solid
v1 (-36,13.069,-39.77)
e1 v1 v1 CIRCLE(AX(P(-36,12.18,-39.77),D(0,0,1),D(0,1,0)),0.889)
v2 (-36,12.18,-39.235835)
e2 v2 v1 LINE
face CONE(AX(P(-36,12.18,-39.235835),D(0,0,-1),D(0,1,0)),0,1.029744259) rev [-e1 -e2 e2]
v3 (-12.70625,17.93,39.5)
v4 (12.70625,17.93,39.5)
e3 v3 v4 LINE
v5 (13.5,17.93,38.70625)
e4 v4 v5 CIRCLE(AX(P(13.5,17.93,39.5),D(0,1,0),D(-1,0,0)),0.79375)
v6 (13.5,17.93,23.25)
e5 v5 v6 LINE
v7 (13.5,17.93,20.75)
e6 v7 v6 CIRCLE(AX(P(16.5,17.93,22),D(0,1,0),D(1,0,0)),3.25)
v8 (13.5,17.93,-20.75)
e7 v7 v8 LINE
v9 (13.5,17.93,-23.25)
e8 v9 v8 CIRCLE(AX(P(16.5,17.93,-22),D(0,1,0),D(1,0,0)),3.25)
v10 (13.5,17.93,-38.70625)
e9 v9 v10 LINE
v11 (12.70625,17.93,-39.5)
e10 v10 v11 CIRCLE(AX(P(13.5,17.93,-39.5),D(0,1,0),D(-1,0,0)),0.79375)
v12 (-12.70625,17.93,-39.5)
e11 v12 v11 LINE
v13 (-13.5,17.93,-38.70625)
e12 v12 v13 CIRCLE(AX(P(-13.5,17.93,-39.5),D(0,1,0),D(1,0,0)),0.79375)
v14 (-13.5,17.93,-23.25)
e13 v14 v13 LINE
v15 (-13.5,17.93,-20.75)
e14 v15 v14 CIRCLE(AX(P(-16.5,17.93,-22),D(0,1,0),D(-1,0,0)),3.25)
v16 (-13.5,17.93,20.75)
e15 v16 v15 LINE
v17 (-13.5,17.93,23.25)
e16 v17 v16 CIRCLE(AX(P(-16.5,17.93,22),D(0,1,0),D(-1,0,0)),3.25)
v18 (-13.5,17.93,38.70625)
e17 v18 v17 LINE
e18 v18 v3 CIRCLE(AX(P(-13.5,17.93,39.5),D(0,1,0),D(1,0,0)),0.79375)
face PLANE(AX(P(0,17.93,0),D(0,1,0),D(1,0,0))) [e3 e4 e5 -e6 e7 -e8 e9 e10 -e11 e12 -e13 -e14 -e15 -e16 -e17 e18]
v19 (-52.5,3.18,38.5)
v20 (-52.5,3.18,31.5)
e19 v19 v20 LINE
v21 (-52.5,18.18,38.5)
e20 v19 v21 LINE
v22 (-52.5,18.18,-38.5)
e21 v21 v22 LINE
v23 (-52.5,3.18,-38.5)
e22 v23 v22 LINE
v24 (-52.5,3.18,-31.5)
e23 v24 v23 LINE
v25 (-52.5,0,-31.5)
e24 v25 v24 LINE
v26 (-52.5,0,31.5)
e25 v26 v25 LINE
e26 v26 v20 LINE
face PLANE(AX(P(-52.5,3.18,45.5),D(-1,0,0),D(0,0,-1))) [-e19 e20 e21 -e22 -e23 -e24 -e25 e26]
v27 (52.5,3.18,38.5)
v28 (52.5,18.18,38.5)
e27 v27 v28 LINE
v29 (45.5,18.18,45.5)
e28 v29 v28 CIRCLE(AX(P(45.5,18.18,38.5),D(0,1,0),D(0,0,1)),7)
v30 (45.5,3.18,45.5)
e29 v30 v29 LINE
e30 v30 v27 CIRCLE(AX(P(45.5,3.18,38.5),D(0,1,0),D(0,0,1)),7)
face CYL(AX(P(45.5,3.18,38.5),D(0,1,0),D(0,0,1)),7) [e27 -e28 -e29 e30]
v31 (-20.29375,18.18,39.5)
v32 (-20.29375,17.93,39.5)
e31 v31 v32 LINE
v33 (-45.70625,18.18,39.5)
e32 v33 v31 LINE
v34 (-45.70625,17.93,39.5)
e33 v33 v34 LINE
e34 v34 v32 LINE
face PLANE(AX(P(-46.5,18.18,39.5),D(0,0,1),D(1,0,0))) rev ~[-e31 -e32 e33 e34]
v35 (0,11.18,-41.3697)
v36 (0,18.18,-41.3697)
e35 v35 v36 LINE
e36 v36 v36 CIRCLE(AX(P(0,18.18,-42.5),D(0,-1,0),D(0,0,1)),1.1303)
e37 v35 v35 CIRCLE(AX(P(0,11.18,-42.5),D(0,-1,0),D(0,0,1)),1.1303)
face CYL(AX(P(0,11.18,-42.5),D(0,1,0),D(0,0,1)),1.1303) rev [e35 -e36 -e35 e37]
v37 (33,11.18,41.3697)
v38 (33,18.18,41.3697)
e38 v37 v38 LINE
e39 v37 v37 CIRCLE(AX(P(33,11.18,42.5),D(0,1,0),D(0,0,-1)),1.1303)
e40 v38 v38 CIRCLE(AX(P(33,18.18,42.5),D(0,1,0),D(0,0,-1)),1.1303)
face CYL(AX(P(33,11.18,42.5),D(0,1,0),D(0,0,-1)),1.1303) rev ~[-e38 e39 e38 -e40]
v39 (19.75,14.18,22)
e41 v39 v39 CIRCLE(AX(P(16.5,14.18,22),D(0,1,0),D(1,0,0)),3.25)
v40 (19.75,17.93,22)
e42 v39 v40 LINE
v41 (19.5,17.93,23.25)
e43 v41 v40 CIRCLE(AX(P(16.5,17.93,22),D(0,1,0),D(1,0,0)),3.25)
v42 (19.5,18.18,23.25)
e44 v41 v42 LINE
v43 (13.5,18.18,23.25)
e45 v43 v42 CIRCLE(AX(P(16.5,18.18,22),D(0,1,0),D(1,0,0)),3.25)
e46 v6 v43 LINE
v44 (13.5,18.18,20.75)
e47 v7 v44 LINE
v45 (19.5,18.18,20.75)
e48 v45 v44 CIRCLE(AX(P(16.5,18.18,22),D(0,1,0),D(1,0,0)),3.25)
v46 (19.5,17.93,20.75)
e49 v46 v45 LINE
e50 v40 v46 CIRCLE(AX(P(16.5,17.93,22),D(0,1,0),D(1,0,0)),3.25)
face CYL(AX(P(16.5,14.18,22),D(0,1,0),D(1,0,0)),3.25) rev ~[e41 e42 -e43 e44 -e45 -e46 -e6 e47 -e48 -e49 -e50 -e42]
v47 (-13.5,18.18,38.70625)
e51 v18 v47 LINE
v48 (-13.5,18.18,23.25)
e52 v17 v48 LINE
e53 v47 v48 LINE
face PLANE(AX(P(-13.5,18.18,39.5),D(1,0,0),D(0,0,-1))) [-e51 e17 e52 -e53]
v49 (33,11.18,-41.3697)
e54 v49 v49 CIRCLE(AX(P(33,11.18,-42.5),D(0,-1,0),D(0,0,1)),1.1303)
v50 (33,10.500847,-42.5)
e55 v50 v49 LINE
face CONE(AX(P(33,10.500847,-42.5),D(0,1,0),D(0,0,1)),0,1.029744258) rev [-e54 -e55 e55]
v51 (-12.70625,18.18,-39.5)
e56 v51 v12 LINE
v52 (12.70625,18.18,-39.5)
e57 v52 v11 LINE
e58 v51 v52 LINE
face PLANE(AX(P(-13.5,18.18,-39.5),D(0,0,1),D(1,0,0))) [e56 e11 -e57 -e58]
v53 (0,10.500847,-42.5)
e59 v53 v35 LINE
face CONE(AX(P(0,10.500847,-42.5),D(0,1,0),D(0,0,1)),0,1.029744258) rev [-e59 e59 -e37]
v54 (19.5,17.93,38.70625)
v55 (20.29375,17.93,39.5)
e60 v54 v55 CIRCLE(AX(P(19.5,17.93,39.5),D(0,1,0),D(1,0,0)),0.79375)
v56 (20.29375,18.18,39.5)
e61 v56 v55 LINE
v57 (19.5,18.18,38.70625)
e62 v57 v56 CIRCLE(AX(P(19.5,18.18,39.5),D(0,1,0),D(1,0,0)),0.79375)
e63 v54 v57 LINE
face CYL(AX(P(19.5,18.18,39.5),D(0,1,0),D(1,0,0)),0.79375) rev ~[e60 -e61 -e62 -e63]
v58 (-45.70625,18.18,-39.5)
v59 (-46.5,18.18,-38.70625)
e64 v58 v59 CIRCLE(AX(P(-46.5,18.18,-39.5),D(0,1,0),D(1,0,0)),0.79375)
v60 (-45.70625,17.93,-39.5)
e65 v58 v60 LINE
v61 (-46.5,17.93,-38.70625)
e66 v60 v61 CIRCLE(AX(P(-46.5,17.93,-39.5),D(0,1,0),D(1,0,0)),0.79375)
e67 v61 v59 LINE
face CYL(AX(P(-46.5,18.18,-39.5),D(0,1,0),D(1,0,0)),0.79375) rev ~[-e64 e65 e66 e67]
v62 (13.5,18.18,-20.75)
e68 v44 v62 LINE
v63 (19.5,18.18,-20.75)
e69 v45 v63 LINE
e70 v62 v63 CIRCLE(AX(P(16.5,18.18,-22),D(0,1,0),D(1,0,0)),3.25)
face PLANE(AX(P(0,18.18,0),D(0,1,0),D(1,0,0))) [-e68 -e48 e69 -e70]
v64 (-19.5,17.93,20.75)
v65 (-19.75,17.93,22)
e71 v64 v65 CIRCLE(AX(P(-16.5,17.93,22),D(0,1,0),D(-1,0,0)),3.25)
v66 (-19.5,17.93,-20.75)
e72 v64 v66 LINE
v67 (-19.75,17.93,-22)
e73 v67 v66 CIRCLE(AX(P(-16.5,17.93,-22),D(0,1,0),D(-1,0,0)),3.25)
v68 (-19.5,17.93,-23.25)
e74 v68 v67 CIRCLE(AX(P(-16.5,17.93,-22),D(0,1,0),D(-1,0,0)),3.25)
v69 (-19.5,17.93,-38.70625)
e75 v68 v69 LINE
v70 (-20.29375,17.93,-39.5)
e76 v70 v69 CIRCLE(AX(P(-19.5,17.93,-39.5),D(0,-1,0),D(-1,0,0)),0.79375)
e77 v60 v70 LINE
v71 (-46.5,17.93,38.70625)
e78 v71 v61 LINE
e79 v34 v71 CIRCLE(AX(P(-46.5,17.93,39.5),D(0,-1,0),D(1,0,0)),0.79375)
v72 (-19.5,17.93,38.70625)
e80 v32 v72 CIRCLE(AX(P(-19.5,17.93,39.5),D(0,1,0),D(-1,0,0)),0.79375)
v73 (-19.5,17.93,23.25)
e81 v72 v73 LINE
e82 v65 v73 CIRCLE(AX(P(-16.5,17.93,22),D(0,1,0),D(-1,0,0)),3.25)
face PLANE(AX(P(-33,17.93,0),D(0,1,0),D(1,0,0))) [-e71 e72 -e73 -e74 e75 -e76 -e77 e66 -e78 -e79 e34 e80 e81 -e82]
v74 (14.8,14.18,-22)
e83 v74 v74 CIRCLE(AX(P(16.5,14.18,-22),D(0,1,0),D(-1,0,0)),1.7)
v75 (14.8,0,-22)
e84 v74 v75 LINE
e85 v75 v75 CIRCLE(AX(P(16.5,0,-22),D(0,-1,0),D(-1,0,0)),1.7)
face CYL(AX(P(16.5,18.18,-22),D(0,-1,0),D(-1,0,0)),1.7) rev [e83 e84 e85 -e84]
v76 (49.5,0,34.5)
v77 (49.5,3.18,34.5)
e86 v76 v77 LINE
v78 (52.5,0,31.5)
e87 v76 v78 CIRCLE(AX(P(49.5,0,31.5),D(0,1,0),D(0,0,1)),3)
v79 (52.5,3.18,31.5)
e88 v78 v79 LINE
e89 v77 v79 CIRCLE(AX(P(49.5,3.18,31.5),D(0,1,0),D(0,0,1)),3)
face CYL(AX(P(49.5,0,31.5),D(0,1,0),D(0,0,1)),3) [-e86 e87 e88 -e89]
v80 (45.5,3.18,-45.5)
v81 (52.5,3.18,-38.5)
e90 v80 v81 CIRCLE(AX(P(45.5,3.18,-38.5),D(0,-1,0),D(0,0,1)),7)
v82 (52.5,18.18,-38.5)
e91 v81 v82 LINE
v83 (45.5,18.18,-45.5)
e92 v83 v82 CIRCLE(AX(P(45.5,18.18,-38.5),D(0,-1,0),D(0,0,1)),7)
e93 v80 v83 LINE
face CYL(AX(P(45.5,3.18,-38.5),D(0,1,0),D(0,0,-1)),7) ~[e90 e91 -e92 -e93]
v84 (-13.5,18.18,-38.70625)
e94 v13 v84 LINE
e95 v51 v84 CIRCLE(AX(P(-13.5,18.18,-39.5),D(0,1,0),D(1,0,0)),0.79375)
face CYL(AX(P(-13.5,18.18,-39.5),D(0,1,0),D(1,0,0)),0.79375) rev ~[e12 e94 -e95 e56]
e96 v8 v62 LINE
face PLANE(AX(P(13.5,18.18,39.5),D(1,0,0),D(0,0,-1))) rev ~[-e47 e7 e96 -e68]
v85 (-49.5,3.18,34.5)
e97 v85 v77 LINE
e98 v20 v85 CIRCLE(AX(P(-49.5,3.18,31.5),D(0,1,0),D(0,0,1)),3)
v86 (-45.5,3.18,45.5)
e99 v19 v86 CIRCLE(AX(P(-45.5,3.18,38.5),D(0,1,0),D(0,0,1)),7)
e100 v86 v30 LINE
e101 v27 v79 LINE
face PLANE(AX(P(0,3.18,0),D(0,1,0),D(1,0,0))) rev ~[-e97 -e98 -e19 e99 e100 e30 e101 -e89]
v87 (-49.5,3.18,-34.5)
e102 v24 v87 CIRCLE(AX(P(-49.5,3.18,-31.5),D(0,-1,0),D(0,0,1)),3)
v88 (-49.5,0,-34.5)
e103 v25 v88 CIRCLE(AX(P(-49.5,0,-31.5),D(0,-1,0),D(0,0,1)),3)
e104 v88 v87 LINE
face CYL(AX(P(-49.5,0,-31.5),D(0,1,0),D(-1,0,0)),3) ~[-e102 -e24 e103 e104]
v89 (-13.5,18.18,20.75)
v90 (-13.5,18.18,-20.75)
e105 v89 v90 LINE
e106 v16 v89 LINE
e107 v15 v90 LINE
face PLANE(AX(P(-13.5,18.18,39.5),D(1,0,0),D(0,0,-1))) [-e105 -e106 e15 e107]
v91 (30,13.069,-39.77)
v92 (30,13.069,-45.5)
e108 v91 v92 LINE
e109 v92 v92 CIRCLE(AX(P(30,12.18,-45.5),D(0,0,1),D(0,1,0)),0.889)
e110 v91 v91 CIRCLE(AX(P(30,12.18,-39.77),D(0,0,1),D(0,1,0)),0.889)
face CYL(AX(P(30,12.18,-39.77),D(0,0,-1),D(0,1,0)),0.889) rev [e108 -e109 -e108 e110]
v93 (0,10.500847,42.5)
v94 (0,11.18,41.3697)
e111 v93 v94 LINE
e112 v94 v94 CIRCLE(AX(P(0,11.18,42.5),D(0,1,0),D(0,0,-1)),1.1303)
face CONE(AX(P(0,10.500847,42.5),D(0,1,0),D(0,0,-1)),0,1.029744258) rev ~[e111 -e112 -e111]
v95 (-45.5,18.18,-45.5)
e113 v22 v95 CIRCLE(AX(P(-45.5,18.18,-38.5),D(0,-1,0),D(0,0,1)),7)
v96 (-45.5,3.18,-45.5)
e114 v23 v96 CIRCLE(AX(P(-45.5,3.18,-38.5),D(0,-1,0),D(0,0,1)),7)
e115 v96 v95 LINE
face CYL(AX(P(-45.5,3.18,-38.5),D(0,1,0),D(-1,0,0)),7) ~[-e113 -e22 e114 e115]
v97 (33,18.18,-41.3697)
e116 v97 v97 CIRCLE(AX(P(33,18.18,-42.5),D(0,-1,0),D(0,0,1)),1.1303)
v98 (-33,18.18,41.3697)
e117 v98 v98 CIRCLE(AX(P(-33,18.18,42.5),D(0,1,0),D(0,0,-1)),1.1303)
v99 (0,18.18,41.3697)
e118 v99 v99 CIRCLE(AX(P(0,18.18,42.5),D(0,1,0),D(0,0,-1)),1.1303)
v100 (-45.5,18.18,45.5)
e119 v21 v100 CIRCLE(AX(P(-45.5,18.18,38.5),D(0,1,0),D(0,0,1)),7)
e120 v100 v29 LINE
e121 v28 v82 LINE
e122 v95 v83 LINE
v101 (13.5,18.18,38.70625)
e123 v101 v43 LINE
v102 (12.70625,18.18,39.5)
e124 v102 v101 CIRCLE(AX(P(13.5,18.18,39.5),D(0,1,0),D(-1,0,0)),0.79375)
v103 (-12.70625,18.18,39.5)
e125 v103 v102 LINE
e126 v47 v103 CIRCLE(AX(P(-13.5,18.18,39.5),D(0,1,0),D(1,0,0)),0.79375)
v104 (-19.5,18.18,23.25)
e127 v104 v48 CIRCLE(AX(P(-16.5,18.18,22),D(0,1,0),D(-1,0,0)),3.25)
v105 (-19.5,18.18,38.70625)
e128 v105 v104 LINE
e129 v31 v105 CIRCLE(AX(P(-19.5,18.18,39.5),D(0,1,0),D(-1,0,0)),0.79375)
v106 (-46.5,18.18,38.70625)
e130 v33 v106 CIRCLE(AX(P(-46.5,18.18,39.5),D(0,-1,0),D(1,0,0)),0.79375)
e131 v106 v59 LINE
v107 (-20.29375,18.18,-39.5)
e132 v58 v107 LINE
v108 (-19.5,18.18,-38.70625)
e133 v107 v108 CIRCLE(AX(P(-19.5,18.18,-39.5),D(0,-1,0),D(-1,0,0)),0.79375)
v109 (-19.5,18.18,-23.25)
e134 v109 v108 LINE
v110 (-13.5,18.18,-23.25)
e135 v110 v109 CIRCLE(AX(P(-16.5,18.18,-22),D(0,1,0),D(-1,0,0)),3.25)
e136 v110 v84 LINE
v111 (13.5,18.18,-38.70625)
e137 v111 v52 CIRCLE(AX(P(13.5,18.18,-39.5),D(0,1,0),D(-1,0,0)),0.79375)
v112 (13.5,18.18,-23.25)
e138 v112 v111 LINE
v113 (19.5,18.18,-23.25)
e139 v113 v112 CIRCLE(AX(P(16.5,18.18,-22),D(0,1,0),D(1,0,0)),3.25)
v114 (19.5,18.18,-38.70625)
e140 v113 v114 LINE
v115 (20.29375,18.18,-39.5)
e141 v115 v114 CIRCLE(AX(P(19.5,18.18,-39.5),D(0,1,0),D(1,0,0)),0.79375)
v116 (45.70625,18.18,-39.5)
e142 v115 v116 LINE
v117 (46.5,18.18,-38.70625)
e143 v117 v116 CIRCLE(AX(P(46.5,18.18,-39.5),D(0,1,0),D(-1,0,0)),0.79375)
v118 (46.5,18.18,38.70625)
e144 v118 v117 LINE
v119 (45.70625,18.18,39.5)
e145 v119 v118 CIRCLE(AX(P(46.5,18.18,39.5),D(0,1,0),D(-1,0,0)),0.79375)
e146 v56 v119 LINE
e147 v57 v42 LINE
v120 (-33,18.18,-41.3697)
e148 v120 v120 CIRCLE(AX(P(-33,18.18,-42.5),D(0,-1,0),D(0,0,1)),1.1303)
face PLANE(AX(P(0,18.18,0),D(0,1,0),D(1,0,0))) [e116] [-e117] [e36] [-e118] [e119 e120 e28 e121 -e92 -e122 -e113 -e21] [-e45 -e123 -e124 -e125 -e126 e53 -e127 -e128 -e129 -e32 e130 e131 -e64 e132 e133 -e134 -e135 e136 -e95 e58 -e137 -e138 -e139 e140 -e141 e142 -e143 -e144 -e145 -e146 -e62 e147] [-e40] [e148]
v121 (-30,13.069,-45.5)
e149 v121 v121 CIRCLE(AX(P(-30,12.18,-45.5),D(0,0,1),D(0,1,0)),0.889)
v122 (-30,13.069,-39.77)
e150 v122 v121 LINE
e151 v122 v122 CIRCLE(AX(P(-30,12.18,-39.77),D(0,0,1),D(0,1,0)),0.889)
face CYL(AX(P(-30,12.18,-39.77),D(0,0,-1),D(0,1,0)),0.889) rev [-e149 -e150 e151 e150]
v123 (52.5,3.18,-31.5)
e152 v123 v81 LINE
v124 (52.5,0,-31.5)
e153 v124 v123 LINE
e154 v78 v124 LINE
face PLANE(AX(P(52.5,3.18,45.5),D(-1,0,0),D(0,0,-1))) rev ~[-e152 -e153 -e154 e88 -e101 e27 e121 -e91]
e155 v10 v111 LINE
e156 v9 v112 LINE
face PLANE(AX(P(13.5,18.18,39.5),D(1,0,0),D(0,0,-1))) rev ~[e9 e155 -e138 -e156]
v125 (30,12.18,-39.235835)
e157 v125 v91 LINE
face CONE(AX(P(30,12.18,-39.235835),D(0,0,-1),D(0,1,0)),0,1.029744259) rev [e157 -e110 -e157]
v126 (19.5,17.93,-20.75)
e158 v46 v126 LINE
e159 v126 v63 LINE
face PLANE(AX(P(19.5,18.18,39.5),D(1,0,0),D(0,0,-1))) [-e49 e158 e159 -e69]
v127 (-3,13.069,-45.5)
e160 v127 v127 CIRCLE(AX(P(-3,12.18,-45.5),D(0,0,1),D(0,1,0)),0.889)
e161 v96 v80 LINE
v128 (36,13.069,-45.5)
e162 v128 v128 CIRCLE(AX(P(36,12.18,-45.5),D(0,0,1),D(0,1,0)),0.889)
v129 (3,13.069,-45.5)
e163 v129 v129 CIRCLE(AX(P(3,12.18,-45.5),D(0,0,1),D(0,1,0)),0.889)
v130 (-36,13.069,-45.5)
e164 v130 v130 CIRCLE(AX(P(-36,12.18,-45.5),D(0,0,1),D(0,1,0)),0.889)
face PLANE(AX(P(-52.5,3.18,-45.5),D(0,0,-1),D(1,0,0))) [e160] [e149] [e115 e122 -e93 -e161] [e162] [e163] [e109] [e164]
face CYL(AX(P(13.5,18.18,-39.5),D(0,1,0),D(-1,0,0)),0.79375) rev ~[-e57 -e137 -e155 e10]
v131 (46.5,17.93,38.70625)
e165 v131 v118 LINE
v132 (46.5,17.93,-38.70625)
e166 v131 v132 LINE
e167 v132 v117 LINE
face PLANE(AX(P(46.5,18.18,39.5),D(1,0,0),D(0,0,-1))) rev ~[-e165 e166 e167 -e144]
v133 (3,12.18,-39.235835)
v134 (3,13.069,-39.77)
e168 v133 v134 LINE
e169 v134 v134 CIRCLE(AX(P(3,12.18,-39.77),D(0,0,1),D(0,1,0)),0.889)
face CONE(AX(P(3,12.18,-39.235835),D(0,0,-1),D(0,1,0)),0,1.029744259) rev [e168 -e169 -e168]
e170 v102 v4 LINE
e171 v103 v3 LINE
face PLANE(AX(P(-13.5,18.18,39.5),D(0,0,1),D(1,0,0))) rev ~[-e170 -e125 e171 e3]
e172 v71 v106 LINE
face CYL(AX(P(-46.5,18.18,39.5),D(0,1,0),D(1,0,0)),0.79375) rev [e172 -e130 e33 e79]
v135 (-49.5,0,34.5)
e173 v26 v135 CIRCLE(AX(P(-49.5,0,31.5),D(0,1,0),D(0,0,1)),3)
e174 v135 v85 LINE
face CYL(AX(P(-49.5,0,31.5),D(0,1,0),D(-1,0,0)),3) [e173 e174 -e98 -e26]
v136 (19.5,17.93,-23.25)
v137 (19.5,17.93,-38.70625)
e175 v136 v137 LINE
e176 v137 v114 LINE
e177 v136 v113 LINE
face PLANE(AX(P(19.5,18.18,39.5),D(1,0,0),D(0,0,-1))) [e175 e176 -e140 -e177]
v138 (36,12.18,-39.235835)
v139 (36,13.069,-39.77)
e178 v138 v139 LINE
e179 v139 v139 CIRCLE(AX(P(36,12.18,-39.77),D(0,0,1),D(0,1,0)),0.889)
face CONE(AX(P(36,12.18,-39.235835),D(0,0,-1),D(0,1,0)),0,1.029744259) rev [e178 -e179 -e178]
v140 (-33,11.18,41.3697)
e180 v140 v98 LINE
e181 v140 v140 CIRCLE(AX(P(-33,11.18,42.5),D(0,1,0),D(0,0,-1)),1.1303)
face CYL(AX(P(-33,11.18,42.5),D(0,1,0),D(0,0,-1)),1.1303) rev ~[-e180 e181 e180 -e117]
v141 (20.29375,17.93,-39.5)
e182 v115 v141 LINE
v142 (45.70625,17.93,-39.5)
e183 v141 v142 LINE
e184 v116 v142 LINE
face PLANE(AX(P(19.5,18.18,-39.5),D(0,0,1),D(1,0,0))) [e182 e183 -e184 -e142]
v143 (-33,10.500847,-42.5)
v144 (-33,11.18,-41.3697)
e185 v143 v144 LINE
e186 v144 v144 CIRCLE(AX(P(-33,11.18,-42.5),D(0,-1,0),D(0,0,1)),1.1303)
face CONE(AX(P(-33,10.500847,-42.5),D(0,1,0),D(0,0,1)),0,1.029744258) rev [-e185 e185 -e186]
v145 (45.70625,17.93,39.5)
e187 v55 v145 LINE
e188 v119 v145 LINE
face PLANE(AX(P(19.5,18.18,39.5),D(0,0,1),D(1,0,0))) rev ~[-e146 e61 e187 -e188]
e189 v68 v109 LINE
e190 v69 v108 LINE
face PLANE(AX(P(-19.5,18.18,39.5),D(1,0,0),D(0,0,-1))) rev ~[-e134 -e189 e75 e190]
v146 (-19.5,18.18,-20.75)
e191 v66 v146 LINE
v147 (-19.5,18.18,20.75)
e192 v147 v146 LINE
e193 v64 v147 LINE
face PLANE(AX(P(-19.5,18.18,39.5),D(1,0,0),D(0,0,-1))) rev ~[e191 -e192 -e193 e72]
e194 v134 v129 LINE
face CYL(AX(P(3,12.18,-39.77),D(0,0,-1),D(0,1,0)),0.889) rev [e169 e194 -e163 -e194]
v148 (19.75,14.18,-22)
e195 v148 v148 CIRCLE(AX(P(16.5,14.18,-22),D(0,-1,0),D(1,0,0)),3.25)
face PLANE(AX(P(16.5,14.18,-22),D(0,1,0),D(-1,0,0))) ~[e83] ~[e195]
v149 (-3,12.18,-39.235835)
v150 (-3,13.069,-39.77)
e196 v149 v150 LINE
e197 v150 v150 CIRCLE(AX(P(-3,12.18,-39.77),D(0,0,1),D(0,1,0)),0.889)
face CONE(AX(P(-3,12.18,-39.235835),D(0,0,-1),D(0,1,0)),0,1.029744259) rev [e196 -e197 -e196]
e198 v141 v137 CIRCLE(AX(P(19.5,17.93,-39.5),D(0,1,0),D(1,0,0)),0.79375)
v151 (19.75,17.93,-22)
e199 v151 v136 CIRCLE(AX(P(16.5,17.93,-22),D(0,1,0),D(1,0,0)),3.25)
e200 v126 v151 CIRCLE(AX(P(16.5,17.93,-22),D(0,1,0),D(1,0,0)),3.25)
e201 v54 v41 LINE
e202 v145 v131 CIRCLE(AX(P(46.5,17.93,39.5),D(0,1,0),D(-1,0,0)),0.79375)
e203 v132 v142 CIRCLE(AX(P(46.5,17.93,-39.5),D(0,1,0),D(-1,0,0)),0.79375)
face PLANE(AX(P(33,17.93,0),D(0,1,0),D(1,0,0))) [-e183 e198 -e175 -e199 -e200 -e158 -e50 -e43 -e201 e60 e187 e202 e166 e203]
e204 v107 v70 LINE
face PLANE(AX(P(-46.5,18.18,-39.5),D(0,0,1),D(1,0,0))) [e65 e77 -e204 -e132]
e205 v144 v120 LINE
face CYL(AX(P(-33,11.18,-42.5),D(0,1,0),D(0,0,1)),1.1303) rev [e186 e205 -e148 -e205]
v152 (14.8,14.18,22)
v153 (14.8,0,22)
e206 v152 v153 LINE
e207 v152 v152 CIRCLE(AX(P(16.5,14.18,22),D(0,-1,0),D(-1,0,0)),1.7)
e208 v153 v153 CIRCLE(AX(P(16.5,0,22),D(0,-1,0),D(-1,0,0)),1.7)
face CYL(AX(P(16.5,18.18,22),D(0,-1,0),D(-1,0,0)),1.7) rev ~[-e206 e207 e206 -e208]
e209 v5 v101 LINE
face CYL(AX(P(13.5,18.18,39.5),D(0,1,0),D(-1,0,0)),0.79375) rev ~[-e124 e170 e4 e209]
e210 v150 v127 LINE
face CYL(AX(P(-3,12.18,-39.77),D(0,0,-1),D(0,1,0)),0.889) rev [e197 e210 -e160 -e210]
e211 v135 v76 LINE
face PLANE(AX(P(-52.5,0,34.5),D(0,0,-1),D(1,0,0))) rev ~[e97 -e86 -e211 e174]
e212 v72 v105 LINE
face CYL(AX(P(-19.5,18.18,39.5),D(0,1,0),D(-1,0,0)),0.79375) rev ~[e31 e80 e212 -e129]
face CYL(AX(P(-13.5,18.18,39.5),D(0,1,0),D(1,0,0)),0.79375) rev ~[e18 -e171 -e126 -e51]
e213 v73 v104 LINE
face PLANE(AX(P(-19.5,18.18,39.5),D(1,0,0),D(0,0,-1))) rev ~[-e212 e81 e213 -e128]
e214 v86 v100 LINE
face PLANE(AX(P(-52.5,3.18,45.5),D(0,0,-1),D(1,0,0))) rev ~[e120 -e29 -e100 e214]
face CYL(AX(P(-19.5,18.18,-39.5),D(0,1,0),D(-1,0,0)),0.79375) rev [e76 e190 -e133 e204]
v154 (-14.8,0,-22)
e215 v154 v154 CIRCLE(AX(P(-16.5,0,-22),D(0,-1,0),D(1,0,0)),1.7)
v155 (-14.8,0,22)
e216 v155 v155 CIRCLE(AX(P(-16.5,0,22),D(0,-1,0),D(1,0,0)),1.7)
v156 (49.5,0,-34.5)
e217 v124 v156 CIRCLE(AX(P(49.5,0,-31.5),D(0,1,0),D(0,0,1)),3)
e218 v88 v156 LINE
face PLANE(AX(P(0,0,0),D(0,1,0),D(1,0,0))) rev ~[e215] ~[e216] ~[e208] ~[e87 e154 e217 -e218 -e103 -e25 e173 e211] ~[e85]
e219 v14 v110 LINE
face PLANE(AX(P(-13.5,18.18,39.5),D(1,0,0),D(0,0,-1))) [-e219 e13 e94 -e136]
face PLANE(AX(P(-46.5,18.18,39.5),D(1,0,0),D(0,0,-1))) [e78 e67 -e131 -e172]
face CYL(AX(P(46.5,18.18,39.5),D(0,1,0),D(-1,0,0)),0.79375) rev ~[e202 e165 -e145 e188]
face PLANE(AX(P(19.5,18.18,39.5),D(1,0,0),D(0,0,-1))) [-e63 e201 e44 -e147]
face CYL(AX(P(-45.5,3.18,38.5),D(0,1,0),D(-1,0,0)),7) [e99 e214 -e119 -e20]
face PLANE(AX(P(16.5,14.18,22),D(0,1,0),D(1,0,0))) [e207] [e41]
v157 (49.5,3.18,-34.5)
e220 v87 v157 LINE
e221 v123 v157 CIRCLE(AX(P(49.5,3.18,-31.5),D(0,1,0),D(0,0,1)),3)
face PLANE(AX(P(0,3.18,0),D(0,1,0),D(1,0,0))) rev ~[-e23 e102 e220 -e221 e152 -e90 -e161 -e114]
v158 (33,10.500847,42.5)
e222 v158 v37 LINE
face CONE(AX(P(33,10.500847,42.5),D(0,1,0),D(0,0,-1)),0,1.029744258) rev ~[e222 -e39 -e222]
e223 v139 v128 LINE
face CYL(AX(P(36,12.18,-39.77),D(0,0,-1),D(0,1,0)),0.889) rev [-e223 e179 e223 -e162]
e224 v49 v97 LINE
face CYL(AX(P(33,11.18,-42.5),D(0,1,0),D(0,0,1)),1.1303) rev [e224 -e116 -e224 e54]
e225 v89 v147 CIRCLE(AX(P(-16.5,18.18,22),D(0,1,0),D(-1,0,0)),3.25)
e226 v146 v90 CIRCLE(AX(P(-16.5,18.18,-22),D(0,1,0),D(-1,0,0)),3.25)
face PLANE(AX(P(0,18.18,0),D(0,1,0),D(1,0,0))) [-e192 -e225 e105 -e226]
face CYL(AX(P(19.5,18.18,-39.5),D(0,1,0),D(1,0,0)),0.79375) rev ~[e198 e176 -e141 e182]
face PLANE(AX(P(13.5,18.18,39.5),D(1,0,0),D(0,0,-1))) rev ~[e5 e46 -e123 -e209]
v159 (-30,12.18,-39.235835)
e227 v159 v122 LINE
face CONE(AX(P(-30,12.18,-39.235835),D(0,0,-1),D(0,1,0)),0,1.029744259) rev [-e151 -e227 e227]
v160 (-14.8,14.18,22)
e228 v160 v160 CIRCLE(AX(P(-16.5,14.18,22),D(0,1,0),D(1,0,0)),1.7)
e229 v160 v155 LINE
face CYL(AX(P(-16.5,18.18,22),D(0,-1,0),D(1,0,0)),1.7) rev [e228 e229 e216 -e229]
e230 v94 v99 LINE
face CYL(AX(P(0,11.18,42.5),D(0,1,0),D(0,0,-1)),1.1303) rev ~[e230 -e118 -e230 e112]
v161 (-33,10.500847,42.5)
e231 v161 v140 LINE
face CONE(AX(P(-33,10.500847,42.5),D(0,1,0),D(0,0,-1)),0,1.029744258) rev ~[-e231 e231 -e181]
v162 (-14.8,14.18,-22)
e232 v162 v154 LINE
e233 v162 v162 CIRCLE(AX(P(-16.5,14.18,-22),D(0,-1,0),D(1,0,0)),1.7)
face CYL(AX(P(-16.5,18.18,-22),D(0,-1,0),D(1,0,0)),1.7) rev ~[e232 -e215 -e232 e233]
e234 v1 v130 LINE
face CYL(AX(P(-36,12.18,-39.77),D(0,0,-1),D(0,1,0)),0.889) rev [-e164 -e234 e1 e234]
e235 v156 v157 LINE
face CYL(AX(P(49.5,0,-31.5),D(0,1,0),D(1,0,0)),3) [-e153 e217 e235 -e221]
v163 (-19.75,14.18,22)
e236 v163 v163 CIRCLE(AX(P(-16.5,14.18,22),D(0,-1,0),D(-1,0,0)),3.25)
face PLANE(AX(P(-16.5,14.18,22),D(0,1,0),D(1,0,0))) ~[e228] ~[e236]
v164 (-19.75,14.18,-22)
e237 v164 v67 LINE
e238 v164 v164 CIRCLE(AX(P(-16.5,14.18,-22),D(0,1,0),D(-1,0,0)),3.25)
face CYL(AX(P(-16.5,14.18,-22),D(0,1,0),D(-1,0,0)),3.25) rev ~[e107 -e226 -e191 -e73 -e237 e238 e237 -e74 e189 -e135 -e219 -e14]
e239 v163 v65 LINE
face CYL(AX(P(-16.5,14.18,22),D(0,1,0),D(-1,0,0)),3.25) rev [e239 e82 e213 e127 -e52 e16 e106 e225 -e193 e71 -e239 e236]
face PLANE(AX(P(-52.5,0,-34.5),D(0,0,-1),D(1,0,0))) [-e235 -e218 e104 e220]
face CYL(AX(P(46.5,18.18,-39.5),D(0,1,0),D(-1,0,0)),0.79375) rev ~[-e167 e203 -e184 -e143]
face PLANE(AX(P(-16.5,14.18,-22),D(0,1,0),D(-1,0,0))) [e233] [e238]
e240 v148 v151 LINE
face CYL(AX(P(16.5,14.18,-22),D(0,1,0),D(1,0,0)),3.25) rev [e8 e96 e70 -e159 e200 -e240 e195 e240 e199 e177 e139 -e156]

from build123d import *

# Parameters (mm, degrees)
SKETCH1_W                      = 105
SKETCH1_H                      = 69
BOSS_EXTRUDE1_DEPTH            = 3.18
FILLET1_R                      = 3
SKETCH2_W                      = 105
SKETCH2_H                      = 91
BOSS_EXTRUDE2_DEPTH            = 15
FILLET2_R                      = 7
SKETCH3_W                      = 27
SKETCH3_H                      = 79
CUT_EXTRUDE1_DEPTH             = 0.25
SKETCH4_R                      = 0.79375
CUT_EXTRUDE2_DEPTH             = 0.25
MIRROR2_COPY_1_SKETCH_R        = 0.79375
MIRROR2_COPY_1_DEPTH           = 0.25
LPATTERN1_COUNT                = 3
LPATTERN1_PITCH                = 33
LPATTERN1_COPY_3_SKETCH_R      = 0.79375
LPATTERN1_COPY_3_DEPTH         = 0.25
LPATTERN1_COPY_4_SKETCH_R      = 0.79375
LPATTERN1_COPY_4_DEPTH         = 0.25
LPATTERN1_COPY_5_SKETCH_R      = 0.79375
LPATTERN1_COPY_5_DEPTH         = 0.25
LPATTERN1_COPY_6_SKETCH_R      = 0.79375
LPATTERN1_COPY_6_DEPTH         = 0.25
LPATTERN1_COPY_7_SKETCH_R      = 0.79375
LPATTERN1_COPY_7_DEPTH         = 0.25
LPATTERN1_COPY_8_SKETCH_R      = 0.79375
LPATTERN1_COPY_8_DEPTH         = 0.25
CBORE_FOR_M3_SHCS1_D           = 3.4
CBORE_FOR_M3_SHCS1_CBORE_D     = 6.5
CBORE_FOR_M3_SHCS1_CBORE_DEPTH = 4
MIRROR4_COPY_1_D               = 3.4
MIRROR4_COPY_1_CBORE_D         = 6.5
MIRROR4_COPY_1_CBORE_DEPTH     = 4
F_2_56_TAPPED_HOLE1_AT_2_COUNT = 2
F_2_56_TAPPED_HOLE1_AT_2_PITCH = 6
LPATTERN2_COUNT                = 3
LPATTERN2_PITCH                = 33


with BuildPart() as part:
    # Sketch1 → Boss-Extrude1 (new body)
    with BuildSketch(Plane(origin=(0, 0, 0), x_dir=(1, 0, 0), z_dir=(0, 1, 0))):
        Rectangle(SKETCH1_W, SKETCH1_H)
    extrude(amount=BOSS_EXTRUDE1_DEPTH)

    # Fillet1
    fillet1_edges = [part.edges().sort_by_distance(p)[0] for p in [
        (52.5, 1.59, 34.5),
        (-52.5, 1.59, 34.5),
        (-52.5, 1.59, -34.5),
        (52.5, 1.59, -34.5),
    ]]
    fillet(fillet1_edges, radius=FILLET1_R)

    # Sketch2 → Boss-Extrude2 (add)
    with BuildSketch(Plane(origin=(0, 3.18, 0), x_dir=(1, 0, 0), z_dir=(0, 1, 0))):
        Rectangle(SKETCH2_W, SKETCH2_H)
    extrude(amount=BOSS_EXTRUDE2_DEPTH)

    # Fillet2
    fillet2_edges = [part.edges().sort_by_distance(p)[0] for p in [
        (52.5, 10.68, 45.5),
        (52.5, 10.68, -45.5),
        (-52.5, 10.68, -45.5),
        (-52.5, 10.68, 45.5),
    ]]
    fillet(fillet2_edges, radius=FILLET2_R)

    # Sketch3 → Cut-Extrude1 (cut)
    with BuildSketch(Plane(origin=(0, 18.18, 0), x_dir=(1, 0, 0), z_dir=(0, 1, 0))):
        with Locations((-33, 0)):
            Rectangle(SKETCH3_W, SKETCH3_H)
    cut_extrude1 = extrude(amount=-CUT_EXTRUDE1_DEPTH, mode=Mode.SUBTRACT)

    # Sketch8 → #4-40 Tapped Hole1 (revolve, cut)
    with BuildSketch(Plane(origin=(-33, 18.18, -42.5), x_dir=(0, 0, 1), z_dir=(1, 0, 0))):
        Polygon((0, 0), (0, 7.679152758), (1.1303, 7), (1.1303, 0), align=None)
    f_4_40_tapped_hole1 = revolve(axis=Axis((-33, 24.53, -42.5), (0, -1, 0)), mode=Mode.SUBTRACT)

    # Mirror5: #4-40 Tapped Hole1 across plane
    add(f_4_40_tapped_hole1.mirror(Plane.XY), mode=Mode.SUBTRACT)

    # Sketch4 → Cut-Extrude2 (cut)
    with BuildSketch(Plane(origin=(0, 18.18, 0), x_dir=(1, 0, 0), z_dir=(0, 1, 0))):
        with Locations((-46.5, 39.5)):
            Circle(SKETCH4_R)
    cut_extrude2 = extrude(amount=-CUT_EXTRUDE2_DEPTH, mode=Mode.SUBTRACT)

    # Mirror1: Cut-Extrude2 across plane
    add(cut_extrude2.mirror(Plane(origin=(-33, 0, 0), x_dir=(0, 0, 1), z_dir=(1, 0, 0))), mode=Mode.SUBTRACT)

    # Mirror2: Cut-Extrude2 across plane
    add(cut_extrude2.mirror(Plane.XY), mode=Mode.SUBTRACT)

    # Mirror2 copy 1 sketch → Mirror2 copy 1 (cut)
    with BuildSketch(Plane(origin=(-66, 18.18, 0), x_dir=(-1, 0, 0), z_dir=(0, 1, 0))):
        with Locations((-46.5, 39.5)):
            Circle(MIRROR2_COPY_1_SKETCH_R)
    extrude(amount=-MIRROR2_COPY_1_DEPTH, mode=Mode.SUBTRACT)

    # LPattern1: Cut-Extrude1, #4-40 Tapped Hole1, Cut-Extrude2 ×3
    with Locations(*[(i * LPATTERN1_PITCH, 0, 0) for i in range(1, LPATTERN1_COUNT)]):
        add(cut_extrude1, mode=Mode.SUBTRACT)
        add(f_4_40_tapped_hole1, mode=Mode.SUBTRACT)
        add(cut_extrude2, mode=Mode.SUBTRACT)

    # LPattern1 copy 1 sketch → LPattern1 copy 1 (revolve, cut)
    with BuildSketch(Plane(origin=(0, 18.18, 42.5), x_dir=(0, 0, -1), z_dir=(1, 0, 0))):
        Polygon((0, 0), (0, -7.679152758), (1.1303, -7), (1.1303, 0), align=None)
    revolve(axis=Axis((0, 24.53, 42.5), (0, 1, 0)), mode=Mode.SUBTRACT)

    # LPattern1 copy 2 sketch → LPattern1 copy 2 (revolve, cut)
    with BuildSketch(Plane(origin=(33, 18.18, 42.5), x_dir=(0, 0, -1), z_dir=(1, 0, 0))):
        Polygon((0, 0), (0, -7.679152758), (1.1303, -7), (1.1303, 0), align=None)
    revolve(axis=Axis((33, 24.53, 42.5), (0, 1, 0)), mode=Mode.SUBTRACT)

    # LPattern1 copy 3 sketch → LPattern1 copy 3 (cut)
    with BuildSketch(Plane(origin=(-33, 18.18, 0), x_dir=(-1, 0, 0), z_dir=(0, 1, 0))):
        with Locations((-46.5, -39.5)):
            Circle(LPATTERN1_COPY_3_SKETCH_R)
    extrude(amount=-LPATTERN1_COPY_3_DEPTH, mode=Mode.SUBTRACT)

    # LPattern1 copy 4 sketch → LPattern1 copy 4 (cut)
    with BuildSketch(Plane(origin=(0, 18.18, 0), x_dir=(-1, 0, 0), z_dir=(0, 1, 0))):
        with Locations((-46.5, -39.5)):
            Circle(LPATTERN1_COPY_4_SKETCH_R)
    extrude(amount=-LPATTERN1_COPY_4_DEPTH, mode=Mode.SUBTRACT)

    # LPattern1 copy 5 sketch → LPattern1 copy 5 (cut)
    with BuildSketch(Plane(origin=(33, 18.18, 0), x_dir=(1, 0, 0), z_dir=(0, 1, 0))):
        with Locations((-46.5, -39.5)):
            Circle(LPATTERN1_COPY_5_SKETCH_R)
    extrude(amount=-LPATTERN1_COPY_5_DEPTH, mode=Mode.SUBTRACT)

    # LPattern1 copy 6 sketch → LPattern1 copy 6 (cut)
    with BuildSketch(Plane(origin=(66, 18.18, 0), x_dir=(1, 0, 0), z_dir=(0, 1, 0))):
        with Locations((-46.5, -39.5)):
            Circle(LPATTERN1_COPY_6_SKETCH_R)
    extrude(amount=-LPATTERN1_COPY_6_DEPTH, mode=Mode.SUBTRACT)

    # LPattern1 copy 7 sketch → LPattern1 copy 7 (cut)
    with BuildSketch(Plane(origin=(-33, 18.18, 0), x_dir=(-1, 0, 0), z_dir=(0, 1, 0))):
        with Locations((-46.5, 39.5)):
            Circle(LPATTERN1_COPY_7_SKETCH_R)
    extrude(amount=-LPATTERN1_COPY_7_DEPTH, mode=Mode.SUBTRACT)

    # LPattern1 copy 8 sketch → LPattern1 copy 8 (cut)
    with BuildSketch(Plane(origin=(0, 18.18, 0), x_dir=(-1, 0, 0), z_dir=(0, 1, 0))):
        with Locations((-46.5, 39.5)):
            Circle(LPATTERN1_COPY_8_SKETCH_R)
    extrude(amount=-LPATTERN1_COPY_8_DEPTH, mode=Mode.SUBTRACT)

    # CBORE for M3 SHCS1 (through all)
    with Locations(Plane(origin=(0, 18.18, 0), x_dir=(1, 0, 0), z_dir=(0, 1, 0))):
        with Locations((16.5, -22)):
            cbore_for_m3_shcs1 = CounterBoreHole(CBORE_FOR_M3_SHCS1_D / 2, CBORE_FOR_M3_SHCS1_CBORE_D / 2, CBORE_FOR_M3_SHCS1_CBORE_DEPTH)

    # Mirror3: CBORE for M3 SHCS1 across plane
    add(cbore_for_m3_shcs1.mirror(Plane(origin=(0, 0, 0), x_dir=(0, 0, 1), z_dir=(1, 0, 0))), mode=Mode.SUBTRACT)

    # Mirror4: CBORE for M3 SHCS1 across plane
    add(cbore_for_m3_shcs1.mirror(Plane.XY), mode=Mode.SUBTRACT)

    # Mirror4 copy 1 (through all)
    with Locations(Plane(origin=(0, 18.18, 0), x_dir=(-1, 0, 0), z_dir=(0, 1, 0))):
        with Locations((16.5, -22)):
            CounterBoreHole(MIRROR4_COPY_1_D / 2, MIRROR4_COPY_1_CBORE_D / 2, MIRROR4_COPY_1_CBORE_DEPTH)

    # Sketch10 → #2-56 Tapped Hole1 (revolve, cut)
    with BuildSketch(Plane(origin=(-30, 12.18, -45.5), x_dir=(0, 1, 0), z_dir=(1, 0, 0))):
        Polygon((0, 0), (0, 6.26416509), (0.889, 5.73), (0.889, 0), align=None)
    f_2_56_tapped_hole1 = revolve(axis=Axis((-30, 12.18, -51.85), (0, 0, 1)), mode=Mode.SUBTRACT)

    # #2-56 Tapped Hole1 at 2: #2-56 Tapped Hole1 ×2
    with Locations(*[(-i * F_2_56_TAPPED_HOLE1_AT_2_PITCH, 0, 0) for i in range(1, F_2_56_TAPPED_HOLE1_AT_2_COUNT)]):
        add(f_2_56_tapped_hole1, mode=Mode.SUBTRACT)

    # LPattern2: #2-56 Tapped Hole1 ×3
    with Locations(*[(i * LPATTERN2_PITCH, 0, 0) for i in range(1, LPATTERN2_COUNT)]):
        add(f_2_56_tapped_hole1, mode=Mode.SUBTRACT)

    # LPattern2 copy 1 sketch → LPattern2 copy 1 (revolve, cut)
    with BuildSketch(Plane(origin=(-3, 12.18, -45.5), x_dir=(0, 1, 0), z_dir=(1, 0, 0))):
        Polygon((0, 0), (0, 6.26416509), (0.889, 5.73), (0.889, 0), align=None)
    revolve(axis=Axis((-3, 12.18, -51.85), (0, 0, 1)), mode=Mode.SUBTRACT)

    # LPattern2 copy 2 sketch → LPattern2 copy 2 (revolve, cut)
    with BuildSketch(Plane(origin=(30, 12.18, -45.5), x_dir=(0, 1, 0), z_dir=(1, 0, 0))):
        Polygon((0, 0), (0, 6.26416509), (0.889, 5.73), (0.889, 0), align=None)
    revolve(axis=Axis((30, 12.18, -51.85), (0, 0, 1)), mode=Mode.SUBTRACT)


solid = part.part
